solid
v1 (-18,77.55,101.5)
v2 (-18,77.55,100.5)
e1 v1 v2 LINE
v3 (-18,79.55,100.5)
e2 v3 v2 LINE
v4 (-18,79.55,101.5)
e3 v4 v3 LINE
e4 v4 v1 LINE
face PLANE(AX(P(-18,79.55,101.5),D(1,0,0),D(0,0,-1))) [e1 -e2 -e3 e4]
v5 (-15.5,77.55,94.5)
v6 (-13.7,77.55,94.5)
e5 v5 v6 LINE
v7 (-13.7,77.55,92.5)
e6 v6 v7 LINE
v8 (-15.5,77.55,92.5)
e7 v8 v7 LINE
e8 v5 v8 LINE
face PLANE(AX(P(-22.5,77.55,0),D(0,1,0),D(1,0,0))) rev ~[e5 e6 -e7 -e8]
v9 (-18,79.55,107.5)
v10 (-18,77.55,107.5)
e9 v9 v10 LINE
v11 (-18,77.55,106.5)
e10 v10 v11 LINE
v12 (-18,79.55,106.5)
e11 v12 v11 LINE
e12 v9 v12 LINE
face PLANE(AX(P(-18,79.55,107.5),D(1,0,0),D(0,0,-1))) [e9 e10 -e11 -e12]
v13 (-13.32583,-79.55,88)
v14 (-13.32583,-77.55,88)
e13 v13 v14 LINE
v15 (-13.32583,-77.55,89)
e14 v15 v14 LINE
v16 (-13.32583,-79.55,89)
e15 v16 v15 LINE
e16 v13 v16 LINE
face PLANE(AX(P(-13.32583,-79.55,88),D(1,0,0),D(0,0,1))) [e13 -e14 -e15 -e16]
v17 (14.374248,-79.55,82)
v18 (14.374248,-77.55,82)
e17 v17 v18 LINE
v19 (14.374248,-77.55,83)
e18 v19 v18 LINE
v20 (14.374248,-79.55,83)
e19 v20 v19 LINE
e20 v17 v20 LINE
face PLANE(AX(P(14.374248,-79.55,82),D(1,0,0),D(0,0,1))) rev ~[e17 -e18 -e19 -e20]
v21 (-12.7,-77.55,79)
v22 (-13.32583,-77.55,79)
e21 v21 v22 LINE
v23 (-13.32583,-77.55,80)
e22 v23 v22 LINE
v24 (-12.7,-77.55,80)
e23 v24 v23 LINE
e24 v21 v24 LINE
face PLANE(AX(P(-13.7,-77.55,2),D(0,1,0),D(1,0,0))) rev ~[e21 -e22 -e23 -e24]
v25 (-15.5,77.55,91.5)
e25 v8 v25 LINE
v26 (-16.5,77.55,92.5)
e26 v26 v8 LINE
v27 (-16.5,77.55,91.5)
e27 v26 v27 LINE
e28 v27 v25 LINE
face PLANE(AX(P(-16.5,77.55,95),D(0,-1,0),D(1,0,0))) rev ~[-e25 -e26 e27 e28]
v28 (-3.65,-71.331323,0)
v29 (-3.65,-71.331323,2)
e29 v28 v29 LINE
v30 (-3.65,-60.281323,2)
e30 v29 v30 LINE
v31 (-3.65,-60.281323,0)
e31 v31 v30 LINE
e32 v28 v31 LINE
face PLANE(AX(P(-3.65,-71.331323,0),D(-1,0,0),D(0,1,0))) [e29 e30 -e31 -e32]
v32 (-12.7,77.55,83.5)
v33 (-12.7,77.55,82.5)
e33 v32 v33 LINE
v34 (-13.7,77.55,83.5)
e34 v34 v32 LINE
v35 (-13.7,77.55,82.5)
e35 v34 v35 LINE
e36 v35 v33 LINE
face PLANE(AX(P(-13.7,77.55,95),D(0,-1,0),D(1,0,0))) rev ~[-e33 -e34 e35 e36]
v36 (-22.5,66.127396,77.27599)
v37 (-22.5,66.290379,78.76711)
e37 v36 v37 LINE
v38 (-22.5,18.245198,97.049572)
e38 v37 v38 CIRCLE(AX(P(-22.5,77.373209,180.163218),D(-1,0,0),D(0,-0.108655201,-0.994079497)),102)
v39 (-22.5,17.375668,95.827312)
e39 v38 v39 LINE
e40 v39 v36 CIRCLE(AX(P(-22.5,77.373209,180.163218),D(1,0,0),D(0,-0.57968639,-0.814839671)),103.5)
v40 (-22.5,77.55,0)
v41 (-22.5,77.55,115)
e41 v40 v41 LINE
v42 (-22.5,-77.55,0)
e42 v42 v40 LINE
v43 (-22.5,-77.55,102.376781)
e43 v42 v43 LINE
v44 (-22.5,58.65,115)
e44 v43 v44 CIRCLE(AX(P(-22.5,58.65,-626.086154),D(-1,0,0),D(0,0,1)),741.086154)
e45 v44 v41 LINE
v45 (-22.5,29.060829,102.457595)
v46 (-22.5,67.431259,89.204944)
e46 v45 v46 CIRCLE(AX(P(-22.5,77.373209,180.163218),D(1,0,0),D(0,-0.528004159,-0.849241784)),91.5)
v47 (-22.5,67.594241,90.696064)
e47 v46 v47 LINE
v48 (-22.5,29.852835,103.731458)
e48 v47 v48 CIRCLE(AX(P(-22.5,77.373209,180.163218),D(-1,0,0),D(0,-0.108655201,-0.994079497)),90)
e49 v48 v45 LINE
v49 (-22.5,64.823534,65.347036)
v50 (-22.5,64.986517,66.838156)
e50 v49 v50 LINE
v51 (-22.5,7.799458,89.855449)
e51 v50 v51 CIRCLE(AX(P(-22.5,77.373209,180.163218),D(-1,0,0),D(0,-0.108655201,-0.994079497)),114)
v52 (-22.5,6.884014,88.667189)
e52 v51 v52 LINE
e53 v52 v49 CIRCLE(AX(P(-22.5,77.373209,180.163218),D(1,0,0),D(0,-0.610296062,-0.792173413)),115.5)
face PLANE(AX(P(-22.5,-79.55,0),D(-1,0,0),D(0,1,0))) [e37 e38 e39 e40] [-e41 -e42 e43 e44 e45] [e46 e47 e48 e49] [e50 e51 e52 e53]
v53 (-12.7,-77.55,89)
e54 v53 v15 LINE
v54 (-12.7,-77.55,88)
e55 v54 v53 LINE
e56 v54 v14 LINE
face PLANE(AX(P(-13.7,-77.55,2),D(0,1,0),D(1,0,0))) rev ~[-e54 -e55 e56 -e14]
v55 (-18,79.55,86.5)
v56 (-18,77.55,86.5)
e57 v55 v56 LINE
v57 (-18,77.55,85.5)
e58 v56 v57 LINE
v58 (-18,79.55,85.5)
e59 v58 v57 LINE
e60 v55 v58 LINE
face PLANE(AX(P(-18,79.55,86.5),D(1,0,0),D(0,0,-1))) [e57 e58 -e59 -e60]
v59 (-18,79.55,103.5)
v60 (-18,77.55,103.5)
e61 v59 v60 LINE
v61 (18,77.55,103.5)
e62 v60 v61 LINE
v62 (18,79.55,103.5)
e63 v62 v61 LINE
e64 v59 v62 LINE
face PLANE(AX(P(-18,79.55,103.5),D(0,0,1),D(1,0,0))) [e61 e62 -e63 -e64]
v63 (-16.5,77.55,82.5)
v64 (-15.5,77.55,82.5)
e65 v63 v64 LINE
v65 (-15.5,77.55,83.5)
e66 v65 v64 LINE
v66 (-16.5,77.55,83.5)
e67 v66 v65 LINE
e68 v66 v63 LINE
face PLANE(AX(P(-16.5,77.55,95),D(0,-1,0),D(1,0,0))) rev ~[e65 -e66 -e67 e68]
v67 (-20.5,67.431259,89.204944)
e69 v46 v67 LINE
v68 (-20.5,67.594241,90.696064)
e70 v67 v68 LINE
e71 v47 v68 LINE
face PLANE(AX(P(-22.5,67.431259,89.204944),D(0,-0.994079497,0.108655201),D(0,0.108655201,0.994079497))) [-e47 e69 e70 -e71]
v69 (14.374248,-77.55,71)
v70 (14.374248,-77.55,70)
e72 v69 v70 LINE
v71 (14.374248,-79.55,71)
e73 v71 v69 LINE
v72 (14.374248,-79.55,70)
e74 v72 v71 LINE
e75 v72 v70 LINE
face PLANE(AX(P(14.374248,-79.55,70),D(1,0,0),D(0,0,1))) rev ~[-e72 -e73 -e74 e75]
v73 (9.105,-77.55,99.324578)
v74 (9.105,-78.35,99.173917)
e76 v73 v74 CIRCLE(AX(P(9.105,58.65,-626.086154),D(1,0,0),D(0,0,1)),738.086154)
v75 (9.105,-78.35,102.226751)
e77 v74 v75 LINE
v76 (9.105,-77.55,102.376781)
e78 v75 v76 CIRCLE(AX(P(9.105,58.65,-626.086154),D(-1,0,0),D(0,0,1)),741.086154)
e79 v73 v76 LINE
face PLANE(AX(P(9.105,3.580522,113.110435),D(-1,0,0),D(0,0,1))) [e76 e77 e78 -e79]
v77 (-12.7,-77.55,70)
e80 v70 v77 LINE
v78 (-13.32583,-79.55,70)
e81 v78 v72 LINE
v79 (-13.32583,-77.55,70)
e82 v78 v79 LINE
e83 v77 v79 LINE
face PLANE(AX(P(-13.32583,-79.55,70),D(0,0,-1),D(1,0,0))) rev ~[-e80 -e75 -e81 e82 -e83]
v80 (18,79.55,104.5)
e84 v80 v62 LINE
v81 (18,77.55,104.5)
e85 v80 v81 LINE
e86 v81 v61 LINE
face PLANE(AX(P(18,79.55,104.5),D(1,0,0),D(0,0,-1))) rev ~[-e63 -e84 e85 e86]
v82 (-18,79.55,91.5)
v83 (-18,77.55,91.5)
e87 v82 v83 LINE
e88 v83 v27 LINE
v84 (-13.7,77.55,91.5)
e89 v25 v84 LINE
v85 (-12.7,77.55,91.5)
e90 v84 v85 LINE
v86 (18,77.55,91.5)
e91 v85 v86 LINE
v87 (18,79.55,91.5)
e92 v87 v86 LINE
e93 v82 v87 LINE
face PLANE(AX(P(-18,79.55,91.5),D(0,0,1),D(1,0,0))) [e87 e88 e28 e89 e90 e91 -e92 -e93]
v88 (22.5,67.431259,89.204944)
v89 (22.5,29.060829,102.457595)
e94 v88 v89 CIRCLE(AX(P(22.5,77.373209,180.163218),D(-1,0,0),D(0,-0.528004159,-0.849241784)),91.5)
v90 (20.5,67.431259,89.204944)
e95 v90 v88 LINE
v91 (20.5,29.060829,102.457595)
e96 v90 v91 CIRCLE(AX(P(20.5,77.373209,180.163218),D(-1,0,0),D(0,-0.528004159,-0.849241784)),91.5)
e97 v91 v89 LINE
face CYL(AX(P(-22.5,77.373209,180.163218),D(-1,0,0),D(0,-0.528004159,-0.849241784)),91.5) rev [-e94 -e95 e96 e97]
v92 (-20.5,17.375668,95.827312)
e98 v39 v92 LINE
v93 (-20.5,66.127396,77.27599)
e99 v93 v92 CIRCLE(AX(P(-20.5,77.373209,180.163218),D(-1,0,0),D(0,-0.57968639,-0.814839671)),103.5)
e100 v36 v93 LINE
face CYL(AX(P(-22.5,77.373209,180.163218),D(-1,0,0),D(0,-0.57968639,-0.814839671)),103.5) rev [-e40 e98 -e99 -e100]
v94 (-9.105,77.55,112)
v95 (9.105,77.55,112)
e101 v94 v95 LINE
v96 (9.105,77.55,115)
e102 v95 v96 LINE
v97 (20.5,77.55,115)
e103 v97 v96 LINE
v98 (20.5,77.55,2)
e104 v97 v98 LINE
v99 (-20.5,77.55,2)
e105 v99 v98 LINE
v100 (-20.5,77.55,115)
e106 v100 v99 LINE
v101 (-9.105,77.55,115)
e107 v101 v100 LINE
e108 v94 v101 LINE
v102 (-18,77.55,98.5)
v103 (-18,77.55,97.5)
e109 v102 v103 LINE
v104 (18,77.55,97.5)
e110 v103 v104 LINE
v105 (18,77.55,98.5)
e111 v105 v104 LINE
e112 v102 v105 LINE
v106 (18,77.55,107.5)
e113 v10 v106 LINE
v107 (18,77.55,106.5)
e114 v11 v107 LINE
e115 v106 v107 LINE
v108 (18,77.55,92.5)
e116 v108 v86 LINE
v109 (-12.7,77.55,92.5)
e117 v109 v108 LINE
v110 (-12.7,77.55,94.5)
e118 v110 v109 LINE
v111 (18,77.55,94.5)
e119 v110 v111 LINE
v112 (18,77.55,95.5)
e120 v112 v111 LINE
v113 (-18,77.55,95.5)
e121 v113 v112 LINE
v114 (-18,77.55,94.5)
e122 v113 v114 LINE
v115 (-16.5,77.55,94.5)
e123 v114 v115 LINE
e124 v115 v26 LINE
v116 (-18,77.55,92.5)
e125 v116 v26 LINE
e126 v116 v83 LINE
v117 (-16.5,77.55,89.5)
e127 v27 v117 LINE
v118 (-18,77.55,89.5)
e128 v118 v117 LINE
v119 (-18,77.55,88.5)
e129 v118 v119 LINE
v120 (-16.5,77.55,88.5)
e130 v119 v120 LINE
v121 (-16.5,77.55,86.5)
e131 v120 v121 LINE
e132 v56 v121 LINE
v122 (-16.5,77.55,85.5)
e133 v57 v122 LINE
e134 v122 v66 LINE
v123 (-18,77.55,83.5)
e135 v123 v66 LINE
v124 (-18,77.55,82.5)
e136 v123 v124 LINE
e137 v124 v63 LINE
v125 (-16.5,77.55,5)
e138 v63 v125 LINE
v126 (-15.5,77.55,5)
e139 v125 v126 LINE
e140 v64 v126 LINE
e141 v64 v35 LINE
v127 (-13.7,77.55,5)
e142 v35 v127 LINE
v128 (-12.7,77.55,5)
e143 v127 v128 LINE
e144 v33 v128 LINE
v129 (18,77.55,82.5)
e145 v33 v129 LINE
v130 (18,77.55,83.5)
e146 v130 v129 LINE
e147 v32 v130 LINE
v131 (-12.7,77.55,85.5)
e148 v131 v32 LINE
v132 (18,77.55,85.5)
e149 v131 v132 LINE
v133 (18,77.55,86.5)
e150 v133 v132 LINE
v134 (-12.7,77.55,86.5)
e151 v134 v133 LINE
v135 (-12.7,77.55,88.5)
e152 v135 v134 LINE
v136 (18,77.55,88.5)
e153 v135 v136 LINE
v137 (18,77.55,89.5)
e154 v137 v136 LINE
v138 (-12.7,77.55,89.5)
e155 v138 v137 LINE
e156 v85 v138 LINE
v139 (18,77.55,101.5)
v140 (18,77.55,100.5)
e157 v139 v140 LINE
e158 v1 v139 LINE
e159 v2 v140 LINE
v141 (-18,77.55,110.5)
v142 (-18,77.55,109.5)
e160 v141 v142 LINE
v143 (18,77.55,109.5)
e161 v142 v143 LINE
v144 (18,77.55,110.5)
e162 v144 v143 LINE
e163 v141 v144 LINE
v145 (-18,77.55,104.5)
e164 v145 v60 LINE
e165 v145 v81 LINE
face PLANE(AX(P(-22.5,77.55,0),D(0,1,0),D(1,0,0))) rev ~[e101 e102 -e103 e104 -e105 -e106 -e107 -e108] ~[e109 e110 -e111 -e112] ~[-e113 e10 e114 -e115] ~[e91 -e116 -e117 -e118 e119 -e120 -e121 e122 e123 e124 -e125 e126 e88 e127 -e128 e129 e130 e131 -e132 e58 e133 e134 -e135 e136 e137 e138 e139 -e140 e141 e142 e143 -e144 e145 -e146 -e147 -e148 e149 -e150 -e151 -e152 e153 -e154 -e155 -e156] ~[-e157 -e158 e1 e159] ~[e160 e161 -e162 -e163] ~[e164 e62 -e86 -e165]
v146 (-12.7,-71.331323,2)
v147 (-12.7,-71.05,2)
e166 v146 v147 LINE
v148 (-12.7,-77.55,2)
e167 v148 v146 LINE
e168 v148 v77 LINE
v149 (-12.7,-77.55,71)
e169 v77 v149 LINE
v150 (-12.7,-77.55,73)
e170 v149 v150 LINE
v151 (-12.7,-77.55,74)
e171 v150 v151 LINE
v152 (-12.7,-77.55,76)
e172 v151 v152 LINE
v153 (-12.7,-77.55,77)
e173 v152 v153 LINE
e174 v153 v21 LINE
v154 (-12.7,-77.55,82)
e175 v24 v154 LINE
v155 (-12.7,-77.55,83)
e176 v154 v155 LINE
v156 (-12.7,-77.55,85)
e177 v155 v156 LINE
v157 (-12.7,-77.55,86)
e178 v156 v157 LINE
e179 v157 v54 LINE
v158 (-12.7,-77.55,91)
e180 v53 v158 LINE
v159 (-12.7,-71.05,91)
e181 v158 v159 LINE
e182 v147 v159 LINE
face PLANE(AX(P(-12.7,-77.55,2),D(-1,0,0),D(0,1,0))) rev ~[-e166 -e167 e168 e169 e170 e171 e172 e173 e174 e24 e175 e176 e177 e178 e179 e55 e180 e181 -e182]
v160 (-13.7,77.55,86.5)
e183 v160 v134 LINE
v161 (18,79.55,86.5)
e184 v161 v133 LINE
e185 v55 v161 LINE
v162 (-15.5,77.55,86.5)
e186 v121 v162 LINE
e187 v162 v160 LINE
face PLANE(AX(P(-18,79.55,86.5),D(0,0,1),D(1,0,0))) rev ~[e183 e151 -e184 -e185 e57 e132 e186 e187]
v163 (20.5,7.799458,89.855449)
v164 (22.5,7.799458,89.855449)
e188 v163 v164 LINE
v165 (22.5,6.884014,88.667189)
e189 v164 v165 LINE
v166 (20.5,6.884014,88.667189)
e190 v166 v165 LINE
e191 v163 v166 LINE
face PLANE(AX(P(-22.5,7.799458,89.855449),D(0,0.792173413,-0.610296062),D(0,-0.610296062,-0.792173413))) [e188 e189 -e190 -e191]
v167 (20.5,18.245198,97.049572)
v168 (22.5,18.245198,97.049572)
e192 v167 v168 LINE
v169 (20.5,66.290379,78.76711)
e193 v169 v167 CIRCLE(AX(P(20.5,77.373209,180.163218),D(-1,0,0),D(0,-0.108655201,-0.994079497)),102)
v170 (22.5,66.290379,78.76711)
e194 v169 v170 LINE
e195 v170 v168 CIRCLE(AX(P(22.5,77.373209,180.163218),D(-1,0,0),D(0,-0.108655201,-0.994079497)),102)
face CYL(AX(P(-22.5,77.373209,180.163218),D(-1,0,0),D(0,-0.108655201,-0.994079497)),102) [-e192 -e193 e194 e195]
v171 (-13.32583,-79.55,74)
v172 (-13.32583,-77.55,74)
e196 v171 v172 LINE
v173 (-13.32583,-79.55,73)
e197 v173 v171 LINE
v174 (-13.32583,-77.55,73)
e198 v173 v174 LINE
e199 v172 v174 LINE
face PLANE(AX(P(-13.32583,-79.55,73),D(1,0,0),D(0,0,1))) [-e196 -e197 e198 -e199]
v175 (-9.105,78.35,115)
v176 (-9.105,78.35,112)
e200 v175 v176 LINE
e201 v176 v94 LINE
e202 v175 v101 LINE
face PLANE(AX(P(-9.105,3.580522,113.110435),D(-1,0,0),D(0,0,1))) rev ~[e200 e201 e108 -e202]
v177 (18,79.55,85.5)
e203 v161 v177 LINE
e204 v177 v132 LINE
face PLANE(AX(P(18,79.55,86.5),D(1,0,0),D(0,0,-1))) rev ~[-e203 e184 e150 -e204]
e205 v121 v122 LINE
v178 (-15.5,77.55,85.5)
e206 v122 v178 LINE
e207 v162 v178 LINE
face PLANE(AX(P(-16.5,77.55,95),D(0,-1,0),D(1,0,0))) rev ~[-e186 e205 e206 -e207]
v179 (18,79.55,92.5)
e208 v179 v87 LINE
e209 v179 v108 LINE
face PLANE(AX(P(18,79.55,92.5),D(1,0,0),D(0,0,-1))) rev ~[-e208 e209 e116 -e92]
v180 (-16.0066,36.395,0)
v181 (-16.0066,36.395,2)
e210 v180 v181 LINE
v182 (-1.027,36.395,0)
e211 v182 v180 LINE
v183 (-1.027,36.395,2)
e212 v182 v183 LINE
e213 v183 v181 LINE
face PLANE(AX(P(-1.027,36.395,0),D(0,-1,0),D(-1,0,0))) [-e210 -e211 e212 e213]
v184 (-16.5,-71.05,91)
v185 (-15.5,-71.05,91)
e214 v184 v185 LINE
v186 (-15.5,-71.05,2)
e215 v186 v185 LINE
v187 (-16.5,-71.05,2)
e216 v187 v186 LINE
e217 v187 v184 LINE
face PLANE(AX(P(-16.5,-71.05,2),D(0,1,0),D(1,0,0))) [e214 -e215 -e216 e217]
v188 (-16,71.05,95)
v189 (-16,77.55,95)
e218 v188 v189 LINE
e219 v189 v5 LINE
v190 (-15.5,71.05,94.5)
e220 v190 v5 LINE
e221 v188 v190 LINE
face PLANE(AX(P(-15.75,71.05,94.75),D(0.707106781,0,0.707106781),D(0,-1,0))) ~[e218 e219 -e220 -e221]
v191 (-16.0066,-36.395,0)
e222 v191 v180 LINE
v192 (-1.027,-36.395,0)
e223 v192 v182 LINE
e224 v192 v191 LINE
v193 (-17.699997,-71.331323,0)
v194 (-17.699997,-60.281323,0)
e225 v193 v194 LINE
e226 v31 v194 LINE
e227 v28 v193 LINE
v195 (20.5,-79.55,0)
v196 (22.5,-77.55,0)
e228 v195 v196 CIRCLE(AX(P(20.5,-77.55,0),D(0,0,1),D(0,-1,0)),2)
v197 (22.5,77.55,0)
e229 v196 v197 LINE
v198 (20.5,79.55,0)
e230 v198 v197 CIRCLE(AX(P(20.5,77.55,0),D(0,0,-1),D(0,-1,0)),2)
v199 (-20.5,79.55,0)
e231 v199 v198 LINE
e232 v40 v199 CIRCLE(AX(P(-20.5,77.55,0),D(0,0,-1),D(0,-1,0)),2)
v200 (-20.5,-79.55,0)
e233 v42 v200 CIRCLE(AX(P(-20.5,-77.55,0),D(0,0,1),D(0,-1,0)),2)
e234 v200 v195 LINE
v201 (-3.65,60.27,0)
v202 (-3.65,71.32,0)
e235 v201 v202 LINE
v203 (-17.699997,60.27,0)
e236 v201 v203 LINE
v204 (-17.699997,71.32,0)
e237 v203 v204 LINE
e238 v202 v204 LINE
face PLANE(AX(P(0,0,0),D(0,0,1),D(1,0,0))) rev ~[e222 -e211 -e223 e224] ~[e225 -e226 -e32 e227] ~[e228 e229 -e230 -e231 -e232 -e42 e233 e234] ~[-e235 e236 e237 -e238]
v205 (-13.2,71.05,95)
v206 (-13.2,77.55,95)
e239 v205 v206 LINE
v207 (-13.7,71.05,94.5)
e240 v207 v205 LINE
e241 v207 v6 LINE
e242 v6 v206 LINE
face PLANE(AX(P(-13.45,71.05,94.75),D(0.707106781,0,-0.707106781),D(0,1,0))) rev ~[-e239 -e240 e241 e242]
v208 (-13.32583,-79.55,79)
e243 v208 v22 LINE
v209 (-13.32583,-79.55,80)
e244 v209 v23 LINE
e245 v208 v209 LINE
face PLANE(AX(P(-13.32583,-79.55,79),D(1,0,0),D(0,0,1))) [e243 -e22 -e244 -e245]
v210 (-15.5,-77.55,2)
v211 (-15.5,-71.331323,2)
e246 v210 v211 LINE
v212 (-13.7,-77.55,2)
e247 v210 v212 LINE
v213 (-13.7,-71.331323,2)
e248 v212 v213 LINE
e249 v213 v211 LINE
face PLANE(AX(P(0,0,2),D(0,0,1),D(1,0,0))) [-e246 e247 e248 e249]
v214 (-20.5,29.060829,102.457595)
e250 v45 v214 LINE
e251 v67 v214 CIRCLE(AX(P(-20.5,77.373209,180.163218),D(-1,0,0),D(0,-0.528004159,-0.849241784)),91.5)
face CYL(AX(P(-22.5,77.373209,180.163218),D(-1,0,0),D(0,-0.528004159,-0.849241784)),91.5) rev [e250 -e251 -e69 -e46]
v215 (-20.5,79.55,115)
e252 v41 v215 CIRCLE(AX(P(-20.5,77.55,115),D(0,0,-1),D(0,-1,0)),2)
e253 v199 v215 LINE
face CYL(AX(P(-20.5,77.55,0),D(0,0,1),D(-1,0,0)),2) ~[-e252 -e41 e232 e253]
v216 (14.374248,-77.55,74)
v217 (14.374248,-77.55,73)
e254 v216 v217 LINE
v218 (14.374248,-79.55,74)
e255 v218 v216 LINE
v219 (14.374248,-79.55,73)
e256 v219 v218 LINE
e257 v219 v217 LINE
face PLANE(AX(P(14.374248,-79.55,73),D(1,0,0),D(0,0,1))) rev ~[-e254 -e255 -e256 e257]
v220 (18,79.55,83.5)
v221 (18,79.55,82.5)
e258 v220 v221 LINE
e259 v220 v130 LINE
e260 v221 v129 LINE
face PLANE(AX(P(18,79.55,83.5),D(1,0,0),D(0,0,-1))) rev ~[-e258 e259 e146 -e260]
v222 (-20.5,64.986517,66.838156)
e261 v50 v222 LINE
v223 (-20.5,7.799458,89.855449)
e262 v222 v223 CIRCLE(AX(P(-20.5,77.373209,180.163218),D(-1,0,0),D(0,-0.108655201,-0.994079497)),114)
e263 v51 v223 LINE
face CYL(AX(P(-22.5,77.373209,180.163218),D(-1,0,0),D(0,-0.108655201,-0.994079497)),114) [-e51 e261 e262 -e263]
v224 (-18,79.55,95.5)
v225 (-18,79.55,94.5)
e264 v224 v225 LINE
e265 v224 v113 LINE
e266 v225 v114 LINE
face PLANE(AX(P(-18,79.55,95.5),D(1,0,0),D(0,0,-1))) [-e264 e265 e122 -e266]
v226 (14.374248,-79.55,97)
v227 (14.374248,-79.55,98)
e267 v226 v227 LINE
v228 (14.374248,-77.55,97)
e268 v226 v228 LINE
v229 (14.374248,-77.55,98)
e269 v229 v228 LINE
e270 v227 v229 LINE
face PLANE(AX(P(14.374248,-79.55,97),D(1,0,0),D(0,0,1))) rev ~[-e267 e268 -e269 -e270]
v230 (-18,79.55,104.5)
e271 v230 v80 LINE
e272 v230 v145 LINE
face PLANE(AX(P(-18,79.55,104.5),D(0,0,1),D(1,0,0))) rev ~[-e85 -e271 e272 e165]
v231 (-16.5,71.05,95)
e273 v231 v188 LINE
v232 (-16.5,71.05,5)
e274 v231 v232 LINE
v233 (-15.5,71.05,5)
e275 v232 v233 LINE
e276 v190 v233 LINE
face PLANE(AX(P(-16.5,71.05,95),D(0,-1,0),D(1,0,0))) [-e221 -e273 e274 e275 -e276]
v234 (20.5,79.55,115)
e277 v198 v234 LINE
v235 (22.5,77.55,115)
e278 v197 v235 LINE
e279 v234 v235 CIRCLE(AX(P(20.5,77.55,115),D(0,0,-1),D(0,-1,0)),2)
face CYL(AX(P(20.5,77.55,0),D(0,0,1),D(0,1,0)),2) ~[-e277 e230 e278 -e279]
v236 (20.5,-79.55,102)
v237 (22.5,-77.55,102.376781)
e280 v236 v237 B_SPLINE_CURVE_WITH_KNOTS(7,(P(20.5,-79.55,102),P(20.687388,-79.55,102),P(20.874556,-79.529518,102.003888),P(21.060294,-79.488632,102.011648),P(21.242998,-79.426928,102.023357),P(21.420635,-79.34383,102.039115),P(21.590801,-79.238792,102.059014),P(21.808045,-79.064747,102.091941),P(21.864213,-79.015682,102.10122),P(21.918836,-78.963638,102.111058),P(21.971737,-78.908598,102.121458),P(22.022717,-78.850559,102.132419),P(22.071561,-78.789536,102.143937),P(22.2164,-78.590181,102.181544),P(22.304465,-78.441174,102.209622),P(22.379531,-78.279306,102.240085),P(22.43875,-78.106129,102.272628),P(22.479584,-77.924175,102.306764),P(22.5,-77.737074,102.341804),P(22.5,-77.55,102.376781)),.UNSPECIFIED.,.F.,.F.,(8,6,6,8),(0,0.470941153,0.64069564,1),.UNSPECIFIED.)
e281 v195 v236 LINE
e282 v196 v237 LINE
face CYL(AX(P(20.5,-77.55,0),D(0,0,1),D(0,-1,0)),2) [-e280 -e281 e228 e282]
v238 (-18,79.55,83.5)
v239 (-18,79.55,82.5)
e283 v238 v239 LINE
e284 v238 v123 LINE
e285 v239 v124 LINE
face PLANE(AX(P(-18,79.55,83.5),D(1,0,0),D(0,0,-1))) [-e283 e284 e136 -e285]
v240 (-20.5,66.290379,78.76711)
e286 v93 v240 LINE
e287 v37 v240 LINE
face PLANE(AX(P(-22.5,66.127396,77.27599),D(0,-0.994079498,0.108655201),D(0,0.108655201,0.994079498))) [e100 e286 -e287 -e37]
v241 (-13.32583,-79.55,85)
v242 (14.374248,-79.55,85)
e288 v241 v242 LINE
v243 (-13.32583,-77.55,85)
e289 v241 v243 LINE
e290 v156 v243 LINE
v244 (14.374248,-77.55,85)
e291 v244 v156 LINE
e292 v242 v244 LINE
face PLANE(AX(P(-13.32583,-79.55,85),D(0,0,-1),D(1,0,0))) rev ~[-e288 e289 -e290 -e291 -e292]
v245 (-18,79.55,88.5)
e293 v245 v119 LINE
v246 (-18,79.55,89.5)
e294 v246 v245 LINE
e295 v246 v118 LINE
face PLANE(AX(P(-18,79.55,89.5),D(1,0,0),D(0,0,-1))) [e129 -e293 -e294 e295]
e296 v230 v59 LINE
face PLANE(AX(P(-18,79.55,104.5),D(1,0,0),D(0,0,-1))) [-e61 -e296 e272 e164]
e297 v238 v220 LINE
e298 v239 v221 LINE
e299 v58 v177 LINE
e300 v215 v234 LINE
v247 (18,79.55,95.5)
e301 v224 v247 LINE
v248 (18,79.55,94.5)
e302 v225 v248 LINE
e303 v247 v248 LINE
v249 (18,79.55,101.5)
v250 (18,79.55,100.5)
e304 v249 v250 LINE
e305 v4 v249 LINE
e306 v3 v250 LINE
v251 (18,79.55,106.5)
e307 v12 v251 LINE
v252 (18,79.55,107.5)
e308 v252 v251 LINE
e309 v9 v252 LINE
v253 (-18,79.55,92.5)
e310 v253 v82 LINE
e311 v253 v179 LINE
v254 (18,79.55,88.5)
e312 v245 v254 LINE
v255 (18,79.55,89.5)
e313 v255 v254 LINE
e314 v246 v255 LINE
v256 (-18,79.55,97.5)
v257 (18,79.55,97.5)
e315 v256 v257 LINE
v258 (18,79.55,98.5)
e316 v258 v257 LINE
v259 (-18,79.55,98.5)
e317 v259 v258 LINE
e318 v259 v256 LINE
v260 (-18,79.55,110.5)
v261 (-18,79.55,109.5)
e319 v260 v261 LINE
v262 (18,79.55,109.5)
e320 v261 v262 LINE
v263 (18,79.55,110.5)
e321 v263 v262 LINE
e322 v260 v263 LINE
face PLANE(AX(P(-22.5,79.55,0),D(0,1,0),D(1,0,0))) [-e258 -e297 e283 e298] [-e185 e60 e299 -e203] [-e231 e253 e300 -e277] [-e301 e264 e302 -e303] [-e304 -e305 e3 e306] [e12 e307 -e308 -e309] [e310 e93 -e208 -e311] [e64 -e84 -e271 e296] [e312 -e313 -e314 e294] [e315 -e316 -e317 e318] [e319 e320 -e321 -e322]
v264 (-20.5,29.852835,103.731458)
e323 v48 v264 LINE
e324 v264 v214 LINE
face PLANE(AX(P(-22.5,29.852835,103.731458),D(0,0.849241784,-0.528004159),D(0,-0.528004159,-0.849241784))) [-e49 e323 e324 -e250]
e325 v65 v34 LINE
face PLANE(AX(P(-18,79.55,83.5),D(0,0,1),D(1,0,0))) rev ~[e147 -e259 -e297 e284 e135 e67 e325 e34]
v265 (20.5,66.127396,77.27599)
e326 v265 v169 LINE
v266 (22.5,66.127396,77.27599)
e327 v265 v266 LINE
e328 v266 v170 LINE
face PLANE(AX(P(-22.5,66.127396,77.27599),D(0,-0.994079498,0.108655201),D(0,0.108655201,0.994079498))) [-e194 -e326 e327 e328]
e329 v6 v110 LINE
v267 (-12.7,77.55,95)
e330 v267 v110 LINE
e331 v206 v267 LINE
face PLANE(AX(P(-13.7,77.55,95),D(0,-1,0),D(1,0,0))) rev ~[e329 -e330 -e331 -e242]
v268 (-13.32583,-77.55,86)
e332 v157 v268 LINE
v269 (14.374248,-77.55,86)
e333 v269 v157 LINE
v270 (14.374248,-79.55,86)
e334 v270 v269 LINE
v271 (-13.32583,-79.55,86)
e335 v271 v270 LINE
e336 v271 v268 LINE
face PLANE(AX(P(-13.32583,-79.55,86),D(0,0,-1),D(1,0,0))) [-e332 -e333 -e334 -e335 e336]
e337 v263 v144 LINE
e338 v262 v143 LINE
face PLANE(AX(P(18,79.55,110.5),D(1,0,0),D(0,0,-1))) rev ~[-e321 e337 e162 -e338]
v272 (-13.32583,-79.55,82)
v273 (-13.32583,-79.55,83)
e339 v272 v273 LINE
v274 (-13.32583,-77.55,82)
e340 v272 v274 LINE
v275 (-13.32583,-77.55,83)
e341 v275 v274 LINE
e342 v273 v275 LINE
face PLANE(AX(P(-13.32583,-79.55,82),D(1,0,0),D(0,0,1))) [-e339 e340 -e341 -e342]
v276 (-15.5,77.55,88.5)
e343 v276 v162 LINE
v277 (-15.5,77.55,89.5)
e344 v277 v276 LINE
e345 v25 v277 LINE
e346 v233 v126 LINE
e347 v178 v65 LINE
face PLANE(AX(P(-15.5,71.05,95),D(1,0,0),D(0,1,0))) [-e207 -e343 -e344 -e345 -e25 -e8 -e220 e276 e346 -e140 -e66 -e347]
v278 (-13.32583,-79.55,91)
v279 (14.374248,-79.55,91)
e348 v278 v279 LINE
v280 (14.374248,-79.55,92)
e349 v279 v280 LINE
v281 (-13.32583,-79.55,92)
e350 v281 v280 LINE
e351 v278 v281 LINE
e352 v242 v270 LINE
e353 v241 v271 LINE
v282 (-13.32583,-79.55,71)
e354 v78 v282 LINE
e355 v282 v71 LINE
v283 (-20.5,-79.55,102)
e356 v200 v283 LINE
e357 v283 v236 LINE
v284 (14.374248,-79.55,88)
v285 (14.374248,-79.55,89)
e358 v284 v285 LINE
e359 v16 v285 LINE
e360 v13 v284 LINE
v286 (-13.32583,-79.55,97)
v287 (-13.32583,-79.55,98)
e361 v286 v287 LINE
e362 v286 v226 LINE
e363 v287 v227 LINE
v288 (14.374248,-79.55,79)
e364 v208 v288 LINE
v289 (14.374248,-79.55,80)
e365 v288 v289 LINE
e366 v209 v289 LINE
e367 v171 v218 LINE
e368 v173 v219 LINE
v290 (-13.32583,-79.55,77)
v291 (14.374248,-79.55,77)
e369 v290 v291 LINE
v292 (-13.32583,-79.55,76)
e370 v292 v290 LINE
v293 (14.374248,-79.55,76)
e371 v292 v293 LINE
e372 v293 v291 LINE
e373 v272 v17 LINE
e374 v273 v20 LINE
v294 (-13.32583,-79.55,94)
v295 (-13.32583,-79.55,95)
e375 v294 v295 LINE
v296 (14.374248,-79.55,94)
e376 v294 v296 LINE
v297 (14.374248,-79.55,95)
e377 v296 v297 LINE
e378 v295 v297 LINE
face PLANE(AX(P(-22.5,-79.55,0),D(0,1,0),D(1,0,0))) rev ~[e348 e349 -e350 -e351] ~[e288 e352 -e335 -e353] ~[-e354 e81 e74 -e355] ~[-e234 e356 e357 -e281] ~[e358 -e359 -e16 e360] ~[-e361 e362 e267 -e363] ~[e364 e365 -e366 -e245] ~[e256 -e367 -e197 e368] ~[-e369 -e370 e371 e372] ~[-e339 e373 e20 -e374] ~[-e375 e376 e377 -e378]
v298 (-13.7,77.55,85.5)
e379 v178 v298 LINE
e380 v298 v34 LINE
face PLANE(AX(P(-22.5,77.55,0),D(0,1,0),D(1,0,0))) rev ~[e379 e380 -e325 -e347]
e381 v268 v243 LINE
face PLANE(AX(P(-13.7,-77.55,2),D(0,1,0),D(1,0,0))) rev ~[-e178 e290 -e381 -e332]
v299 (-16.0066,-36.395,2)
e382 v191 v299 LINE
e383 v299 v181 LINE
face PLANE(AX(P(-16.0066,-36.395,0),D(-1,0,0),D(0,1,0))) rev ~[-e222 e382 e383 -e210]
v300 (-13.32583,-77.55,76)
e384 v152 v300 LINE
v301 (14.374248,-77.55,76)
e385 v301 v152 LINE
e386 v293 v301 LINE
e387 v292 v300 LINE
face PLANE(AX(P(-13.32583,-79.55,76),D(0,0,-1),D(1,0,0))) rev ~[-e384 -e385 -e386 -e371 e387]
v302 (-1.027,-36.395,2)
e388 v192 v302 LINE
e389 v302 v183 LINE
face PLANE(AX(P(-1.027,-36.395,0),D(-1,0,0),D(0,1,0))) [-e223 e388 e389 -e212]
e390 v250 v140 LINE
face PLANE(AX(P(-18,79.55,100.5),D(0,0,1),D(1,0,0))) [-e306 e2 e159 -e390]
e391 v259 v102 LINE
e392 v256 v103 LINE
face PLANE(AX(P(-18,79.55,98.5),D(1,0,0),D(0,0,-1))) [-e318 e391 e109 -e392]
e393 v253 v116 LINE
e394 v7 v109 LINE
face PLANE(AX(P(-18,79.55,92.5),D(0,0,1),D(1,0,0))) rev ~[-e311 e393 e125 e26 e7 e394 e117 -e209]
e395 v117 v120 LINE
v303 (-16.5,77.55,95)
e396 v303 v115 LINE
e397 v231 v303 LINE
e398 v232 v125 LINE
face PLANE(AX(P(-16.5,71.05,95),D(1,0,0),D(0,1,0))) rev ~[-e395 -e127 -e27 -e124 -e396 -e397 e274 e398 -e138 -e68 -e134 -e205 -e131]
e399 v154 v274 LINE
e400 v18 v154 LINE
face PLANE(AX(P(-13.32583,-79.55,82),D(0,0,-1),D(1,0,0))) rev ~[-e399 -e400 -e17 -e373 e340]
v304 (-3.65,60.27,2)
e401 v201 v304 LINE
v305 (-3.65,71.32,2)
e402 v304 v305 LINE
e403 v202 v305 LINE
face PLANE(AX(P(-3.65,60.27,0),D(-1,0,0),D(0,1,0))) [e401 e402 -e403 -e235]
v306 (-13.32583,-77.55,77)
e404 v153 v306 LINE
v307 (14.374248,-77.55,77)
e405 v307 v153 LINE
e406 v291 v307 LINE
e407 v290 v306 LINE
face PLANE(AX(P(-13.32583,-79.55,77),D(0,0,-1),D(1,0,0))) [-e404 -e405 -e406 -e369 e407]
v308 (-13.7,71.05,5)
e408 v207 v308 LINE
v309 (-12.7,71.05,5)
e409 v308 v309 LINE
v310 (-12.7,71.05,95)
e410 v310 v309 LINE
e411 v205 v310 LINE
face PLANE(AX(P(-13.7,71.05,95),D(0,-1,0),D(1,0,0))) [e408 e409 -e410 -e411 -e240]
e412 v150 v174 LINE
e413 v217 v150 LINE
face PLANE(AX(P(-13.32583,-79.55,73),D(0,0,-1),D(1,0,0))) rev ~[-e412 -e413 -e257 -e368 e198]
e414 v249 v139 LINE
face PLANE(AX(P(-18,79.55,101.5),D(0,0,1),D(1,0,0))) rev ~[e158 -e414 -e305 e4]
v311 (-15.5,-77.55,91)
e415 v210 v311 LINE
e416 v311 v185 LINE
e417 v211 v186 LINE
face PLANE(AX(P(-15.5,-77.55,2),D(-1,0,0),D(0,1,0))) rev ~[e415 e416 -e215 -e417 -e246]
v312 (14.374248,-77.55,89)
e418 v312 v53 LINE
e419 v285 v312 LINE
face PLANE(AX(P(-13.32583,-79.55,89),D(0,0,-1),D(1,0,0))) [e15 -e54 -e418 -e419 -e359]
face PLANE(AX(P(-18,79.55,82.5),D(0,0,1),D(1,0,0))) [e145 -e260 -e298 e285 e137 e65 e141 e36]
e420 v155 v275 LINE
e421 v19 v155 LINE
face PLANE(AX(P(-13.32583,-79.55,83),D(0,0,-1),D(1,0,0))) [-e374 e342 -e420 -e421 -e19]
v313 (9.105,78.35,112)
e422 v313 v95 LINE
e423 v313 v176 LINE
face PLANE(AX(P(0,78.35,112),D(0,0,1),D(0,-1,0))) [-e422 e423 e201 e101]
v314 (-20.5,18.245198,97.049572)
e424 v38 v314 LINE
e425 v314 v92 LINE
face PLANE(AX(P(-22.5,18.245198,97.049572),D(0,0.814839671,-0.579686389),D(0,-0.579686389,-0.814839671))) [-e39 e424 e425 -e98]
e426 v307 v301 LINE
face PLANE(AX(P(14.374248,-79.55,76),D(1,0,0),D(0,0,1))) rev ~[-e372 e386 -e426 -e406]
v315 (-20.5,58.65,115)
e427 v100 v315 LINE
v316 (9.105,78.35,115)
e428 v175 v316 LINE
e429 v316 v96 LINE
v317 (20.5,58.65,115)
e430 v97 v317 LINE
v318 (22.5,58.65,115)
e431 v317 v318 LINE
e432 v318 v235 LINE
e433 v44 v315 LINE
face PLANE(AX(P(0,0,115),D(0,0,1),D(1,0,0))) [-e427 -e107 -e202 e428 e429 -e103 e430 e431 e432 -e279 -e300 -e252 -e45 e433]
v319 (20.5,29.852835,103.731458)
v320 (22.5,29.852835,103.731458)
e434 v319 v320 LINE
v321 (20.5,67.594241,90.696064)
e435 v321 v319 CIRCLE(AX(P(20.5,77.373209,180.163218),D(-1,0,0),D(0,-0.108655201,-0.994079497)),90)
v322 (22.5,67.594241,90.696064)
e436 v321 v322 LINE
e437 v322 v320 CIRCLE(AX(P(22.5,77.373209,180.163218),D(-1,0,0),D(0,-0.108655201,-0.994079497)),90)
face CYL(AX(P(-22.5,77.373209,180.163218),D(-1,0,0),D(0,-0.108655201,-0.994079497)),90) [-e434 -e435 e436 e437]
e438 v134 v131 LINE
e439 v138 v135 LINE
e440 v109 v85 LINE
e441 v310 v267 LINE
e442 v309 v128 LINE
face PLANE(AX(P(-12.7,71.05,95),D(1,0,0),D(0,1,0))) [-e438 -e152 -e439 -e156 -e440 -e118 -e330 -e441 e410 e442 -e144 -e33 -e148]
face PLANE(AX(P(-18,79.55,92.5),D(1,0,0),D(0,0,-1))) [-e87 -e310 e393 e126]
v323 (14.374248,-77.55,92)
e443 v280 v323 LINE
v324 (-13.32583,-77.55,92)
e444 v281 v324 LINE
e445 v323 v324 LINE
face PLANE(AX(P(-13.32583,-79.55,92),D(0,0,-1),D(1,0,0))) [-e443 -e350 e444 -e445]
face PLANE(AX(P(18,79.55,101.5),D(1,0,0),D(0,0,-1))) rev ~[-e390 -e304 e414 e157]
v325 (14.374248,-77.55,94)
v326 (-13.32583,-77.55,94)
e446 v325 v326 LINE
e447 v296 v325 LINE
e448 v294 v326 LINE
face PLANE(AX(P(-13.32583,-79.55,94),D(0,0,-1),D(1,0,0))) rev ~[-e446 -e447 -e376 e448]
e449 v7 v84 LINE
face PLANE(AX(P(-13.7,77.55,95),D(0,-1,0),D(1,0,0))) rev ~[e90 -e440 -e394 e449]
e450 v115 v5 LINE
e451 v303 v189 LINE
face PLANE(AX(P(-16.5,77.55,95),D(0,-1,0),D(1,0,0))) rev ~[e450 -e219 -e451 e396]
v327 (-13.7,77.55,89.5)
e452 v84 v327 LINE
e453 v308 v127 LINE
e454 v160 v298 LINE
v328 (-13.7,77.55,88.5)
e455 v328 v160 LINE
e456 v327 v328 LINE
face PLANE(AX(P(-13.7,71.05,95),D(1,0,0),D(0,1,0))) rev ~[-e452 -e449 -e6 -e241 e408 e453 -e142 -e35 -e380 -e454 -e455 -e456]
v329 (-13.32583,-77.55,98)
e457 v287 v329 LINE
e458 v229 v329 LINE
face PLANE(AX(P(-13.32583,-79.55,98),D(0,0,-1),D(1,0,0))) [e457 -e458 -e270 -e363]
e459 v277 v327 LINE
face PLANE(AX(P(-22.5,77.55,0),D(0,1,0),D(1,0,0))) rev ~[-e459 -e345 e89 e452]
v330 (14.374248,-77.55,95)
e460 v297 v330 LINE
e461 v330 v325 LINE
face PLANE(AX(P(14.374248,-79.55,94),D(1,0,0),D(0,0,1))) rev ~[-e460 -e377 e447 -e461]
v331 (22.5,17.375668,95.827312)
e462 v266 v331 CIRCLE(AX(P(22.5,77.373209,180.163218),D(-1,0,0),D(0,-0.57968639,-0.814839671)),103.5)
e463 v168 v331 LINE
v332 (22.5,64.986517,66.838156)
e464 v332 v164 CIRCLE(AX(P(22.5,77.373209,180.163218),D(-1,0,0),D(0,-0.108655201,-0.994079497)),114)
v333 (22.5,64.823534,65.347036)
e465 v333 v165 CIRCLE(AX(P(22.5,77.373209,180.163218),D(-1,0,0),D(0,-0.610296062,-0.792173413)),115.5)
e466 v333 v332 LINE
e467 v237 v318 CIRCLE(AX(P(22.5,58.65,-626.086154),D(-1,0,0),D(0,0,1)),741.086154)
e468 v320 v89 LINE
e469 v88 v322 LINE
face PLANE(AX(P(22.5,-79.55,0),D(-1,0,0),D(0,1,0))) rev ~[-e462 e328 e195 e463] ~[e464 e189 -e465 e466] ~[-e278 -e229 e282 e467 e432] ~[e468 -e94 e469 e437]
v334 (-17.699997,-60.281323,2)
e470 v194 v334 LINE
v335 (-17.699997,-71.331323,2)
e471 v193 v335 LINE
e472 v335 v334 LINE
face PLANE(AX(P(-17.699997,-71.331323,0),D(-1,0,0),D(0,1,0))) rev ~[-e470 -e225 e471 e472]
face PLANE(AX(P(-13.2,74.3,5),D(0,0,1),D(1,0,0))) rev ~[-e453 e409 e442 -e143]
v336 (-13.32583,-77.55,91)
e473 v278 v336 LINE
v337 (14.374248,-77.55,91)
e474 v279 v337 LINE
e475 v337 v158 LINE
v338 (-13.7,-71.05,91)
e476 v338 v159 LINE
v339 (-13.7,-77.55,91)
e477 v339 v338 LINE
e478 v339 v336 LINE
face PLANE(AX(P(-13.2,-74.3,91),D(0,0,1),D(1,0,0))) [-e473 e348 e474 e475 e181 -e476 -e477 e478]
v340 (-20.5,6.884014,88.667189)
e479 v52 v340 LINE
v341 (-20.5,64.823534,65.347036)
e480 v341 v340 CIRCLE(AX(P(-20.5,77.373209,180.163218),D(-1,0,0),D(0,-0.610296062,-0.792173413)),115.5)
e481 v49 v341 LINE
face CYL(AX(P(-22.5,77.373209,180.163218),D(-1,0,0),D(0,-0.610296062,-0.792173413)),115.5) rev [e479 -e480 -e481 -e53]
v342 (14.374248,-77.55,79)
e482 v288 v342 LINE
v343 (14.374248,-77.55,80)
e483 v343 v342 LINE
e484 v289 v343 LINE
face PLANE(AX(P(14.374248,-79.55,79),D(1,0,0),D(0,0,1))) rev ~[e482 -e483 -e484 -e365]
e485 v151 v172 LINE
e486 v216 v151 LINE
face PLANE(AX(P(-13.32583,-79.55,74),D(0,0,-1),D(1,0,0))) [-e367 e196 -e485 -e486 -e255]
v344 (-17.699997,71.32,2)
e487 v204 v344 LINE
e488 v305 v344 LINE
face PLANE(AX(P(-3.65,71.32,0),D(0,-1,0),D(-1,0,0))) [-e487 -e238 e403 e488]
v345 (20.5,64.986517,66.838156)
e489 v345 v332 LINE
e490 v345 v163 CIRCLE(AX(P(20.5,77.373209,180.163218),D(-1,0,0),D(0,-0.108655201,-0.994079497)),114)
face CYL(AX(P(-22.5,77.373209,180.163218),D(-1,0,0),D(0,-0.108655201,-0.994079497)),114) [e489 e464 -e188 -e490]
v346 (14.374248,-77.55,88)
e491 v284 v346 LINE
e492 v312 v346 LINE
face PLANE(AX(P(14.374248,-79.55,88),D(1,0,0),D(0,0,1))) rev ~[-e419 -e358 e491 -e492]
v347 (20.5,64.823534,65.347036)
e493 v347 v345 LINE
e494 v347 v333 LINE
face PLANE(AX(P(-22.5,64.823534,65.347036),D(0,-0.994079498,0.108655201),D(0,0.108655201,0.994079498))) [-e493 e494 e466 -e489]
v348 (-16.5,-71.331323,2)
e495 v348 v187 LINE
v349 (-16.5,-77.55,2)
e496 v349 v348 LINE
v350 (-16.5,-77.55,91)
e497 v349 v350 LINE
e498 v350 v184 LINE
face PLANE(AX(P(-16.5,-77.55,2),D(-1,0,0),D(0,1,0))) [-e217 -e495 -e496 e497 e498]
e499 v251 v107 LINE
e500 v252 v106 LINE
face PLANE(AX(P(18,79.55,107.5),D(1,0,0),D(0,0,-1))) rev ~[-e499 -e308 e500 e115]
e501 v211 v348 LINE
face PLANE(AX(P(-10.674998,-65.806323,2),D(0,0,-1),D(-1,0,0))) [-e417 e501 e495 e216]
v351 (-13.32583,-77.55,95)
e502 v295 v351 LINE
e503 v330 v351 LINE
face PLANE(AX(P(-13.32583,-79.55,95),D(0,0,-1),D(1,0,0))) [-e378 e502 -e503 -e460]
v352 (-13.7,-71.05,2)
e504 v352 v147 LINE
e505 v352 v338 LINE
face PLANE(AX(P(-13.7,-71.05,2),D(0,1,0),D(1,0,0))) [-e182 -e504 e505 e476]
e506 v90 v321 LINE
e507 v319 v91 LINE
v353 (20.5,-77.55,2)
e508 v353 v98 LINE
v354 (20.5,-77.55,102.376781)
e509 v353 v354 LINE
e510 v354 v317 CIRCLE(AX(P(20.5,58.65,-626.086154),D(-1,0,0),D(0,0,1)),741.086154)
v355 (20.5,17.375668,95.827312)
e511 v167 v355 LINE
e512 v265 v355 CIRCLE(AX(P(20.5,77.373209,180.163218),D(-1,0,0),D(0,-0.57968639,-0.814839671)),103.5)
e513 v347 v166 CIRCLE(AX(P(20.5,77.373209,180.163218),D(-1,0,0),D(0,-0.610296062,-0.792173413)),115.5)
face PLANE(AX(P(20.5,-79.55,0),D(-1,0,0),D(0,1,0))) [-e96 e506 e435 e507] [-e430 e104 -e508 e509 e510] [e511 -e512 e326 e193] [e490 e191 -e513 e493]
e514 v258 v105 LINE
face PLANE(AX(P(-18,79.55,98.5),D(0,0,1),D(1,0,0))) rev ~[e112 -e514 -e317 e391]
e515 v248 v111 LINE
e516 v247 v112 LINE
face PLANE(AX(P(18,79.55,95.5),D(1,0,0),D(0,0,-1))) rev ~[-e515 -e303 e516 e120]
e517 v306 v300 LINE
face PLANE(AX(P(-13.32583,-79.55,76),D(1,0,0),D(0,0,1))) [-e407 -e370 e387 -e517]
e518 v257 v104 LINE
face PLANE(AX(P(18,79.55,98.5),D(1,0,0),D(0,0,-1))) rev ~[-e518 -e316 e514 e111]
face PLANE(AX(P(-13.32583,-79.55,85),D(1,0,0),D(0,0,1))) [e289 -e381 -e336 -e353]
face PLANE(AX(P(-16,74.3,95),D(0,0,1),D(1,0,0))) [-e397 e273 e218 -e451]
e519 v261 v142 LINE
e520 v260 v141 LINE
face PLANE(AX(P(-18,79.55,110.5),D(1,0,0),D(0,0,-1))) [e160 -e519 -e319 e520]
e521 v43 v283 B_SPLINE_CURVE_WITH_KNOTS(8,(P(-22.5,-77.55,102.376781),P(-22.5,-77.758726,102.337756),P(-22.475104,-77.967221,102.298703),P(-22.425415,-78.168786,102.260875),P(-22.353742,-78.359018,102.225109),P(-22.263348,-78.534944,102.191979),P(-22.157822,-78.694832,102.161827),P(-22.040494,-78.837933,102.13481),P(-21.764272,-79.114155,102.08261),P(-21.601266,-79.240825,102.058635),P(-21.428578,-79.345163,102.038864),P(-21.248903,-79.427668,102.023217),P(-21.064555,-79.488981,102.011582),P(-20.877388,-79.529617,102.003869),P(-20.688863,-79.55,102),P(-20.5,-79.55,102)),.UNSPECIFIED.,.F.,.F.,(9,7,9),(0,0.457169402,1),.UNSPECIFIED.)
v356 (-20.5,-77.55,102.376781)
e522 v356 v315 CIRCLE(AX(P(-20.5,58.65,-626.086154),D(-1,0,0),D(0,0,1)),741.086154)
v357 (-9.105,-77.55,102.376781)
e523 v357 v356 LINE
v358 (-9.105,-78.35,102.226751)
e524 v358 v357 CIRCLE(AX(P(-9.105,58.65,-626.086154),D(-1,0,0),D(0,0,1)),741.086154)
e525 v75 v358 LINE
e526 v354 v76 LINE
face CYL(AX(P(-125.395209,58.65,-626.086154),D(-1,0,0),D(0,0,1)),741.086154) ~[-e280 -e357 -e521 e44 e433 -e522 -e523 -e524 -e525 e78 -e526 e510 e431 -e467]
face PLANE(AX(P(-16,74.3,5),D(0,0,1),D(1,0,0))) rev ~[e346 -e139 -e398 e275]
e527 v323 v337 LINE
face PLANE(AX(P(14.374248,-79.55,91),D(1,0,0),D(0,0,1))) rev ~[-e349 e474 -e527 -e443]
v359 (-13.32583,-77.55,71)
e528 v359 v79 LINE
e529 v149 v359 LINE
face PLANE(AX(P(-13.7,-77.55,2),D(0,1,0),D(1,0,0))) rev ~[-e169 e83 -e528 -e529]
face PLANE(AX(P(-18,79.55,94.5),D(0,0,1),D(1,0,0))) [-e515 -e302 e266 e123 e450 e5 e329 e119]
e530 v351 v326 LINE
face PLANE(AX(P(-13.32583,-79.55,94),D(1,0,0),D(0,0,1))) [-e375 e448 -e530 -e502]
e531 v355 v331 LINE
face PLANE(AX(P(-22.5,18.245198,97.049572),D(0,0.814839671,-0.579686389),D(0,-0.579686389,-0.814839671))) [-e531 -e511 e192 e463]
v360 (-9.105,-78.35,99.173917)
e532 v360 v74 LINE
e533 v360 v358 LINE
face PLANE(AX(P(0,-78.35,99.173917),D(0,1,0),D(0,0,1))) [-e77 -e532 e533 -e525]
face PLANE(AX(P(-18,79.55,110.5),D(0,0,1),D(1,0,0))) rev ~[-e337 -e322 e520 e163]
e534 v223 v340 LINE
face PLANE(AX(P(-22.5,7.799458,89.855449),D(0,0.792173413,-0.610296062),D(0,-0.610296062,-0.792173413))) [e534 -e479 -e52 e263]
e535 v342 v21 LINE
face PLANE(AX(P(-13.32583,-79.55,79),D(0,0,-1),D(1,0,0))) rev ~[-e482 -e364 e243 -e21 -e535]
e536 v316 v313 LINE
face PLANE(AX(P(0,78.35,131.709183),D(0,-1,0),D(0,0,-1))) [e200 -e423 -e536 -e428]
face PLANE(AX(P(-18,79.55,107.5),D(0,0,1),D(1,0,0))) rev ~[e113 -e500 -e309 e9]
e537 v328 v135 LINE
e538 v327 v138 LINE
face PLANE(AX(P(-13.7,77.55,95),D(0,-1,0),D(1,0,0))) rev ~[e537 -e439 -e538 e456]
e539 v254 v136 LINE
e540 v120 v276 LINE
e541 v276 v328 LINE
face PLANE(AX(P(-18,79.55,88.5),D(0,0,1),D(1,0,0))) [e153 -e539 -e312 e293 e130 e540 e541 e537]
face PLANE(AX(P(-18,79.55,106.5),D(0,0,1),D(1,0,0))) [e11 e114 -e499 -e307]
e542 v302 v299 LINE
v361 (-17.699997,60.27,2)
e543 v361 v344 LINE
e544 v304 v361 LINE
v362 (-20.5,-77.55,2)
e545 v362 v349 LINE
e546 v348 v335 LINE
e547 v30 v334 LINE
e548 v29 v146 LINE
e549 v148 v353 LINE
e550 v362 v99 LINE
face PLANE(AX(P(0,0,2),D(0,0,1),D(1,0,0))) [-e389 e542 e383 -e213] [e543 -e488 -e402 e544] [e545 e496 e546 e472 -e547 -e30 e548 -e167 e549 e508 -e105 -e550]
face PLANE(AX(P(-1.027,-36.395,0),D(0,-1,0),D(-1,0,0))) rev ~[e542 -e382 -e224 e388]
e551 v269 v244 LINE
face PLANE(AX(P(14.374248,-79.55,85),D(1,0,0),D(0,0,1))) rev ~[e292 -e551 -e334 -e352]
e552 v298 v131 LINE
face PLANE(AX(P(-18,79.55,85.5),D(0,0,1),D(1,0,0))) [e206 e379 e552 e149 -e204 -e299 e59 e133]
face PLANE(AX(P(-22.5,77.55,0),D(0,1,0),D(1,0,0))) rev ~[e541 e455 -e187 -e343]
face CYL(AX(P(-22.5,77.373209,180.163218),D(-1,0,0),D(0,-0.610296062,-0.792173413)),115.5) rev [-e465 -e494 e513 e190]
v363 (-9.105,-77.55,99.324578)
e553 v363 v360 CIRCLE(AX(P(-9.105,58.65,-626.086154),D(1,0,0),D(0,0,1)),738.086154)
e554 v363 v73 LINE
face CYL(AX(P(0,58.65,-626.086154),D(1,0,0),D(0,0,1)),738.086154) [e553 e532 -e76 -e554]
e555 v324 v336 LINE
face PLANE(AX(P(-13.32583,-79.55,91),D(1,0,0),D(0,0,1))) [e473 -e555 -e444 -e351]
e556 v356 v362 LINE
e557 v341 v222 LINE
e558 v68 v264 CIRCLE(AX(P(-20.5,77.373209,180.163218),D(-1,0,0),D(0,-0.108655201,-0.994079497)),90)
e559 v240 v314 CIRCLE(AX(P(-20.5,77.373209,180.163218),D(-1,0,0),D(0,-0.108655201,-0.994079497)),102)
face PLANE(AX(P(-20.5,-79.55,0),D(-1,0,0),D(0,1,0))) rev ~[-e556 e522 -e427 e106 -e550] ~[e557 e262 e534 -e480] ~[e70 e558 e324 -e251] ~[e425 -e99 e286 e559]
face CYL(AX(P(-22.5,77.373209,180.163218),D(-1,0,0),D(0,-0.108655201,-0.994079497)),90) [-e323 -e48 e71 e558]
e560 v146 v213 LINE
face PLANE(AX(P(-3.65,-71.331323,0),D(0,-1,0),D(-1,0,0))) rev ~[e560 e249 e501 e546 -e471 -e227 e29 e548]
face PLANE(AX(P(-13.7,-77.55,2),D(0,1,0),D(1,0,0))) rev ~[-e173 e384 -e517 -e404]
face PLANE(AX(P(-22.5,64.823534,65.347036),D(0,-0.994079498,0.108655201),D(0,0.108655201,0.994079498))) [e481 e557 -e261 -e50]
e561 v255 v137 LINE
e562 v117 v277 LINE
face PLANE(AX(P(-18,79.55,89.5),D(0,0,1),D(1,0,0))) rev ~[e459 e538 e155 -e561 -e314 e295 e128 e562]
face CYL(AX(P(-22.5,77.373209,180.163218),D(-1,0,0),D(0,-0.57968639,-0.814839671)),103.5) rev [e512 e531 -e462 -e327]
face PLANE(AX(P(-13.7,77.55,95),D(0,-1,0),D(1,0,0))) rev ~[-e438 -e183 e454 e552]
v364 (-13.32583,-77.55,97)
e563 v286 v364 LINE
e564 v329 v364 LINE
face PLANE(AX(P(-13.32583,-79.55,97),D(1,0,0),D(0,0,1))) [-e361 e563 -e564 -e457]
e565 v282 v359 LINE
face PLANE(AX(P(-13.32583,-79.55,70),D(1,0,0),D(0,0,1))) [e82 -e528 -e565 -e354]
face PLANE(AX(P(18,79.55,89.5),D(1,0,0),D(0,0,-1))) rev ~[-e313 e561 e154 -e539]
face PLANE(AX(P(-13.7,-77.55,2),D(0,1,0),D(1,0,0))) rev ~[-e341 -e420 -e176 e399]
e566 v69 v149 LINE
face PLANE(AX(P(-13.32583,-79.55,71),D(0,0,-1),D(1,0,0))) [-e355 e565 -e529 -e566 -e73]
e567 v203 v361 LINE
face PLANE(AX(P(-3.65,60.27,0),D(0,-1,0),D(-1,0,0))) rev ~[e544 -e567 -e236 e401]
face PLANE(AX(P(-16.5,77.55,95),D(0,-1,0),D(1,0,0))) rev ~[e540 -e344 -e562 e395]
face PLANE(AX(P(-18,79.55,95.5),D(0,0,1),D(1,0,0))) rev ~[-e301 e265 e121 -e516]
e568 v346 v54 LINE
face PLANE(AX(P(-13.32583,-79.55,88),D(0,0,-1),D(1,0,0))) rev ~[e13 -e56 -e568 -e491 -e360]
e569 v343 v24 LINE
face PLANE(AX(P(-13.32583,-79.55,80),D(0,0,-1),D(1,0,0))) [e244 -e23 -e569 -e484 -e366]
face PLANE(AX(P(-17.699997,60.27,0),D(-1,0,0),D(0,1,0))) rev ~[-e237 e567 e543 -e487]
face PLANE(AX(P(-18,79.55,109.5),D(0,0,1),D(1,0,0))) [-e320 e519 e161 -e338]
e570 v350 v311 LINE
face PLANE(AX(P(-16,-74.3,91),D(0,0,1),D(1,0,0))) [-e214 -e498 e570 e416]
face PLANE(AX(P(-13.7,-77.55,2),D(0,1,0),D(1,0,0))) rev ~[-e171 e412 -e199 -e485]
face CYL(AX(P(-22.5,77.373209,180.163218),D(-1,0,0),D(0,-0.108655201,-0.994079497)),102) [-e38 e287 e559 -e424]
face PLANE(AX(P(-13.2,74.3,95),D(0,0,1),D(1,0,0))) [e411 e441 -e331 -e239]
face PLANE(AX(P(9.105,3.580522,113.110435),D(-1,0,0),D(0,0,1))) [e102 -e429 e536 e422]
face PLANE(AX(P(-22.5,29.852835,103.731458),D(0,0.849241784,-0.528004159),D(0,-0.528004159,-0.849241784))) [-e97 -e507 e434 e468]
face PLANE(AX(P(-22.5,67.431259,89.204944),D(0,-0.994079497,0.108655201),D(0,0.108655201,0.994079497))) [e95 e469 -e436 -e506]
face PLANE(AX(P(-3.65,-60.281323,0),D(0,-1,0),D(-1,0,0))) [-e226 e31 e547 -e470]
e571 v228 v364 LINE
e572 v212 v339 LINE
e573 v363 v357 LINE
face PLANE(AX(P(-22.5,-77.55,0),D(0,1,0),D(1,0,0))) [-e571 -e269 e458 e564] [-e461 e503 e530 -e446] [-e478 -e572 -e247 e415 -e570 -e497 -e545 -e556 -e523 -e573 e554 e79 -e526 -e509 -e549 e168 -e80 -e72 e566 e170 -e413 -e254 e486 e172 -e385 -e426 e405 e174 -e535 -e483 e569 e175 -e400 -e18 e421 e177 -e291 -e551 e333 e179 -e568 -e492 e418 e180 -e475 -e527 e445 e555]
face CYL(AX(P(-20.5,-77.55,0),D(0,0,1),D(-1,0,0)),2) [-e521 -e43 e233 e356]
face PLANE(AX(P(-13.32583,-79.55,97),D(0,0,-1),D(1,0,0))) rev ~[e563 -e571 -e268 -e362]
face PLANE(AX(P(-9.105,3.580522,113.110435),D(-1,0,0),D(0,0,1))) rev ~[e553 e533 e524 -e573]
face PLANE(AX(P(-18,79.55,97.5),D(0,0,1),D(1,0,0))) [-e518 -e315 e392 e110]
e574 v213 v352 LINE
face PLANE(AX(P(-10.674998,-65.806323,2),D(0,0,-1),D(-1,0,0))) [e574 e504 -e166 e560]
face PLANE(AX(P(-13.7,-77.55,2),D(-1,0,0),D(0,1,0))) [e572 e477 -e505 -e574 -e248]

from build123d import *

# Parameters (mm, degrees)
SKETCH1_W               = 45
SKETCH1_H               = 159.1
BOSS_EXTRUDE1_DEPTH     = 115
SHELL1_T                = -2
CUT_EXTRUDE1_DEPTH      = 147.895209248
CUT_EXTRUDE1_DEPTH_BACK = 147.895209248
FILLET1_R               = 2
SKETCH3_W               = 36
SKETCH3_H               = 1
CUT_EXTRUDE2_DEPTH      = 4
LPATTERN1_COUNT         = 10
LPATTERN1_PITCH         = 3
SKETCH8_W               = 27.700077209
SKETCH8_H               = 1
CUT_EXTRUDE4_DEPTH      = 5
LPATTERN2_COUNT         = 10
LPATTERN2_PITCH         = 3
CUT_EXTRUDE3_DEPTH      = 147.895209411
SKETCH7_W               = 1
SKETCH7_H               = 6.5
BOSS_EXTRUDE3_DEPTH     = 90
CHAMFER2_SIZE           = 0.5
CUT_EXTRUDE6_DEPTH      = 9.105
SKETCH11_W              = 1
SKETCH11_H              = 6.5
BOSS_EXTRUDE6_DEPTH     = 89
SKETCH12_W              = 14.9796
SKETCH12_H              = 72.79
SKETCH12_W_2            = 14.049996967
SKETCH12_H_2            = 11.05
CUT_EXTRUDE7_DEPTH      = 2


with BuildPart() as part:
    # Sketch1 → Boss-Extrude1 (new body)
    with BuildSketch(Plane.XY):
        Rectangle(SKETCH1_W, SKETCH1_H)
    extrude(amount=BOSS_EXTRUDE1_DEPTH)

    # Shell1
    shell1_openings = [part.faces().sort_by_distance(p)[0] for p in [
        (0, 0, 115),
    ]]
    offset(amount=SHELL1_T, openings=shell1_openings, kind=Kind.INTERSECTION)

    # Sketch2 → Cut-Extrude1 (cut, two sides: drawn at the far end of the back side and taken through both)
    with BuildSketch(Plane(origin=(22.5, 0, 0), x_dir=(0, 0, -1), z_dir=(1, 0, 0)).offset(-CUT_EXTRUDE1_DEPTH_BACK)):
        with BuildLine():
            Line((-115, 482.170987722), (-115, 79.55))
            Line((-115, 79.55), (-115, 58.65))
            ThreePointArc((-115, 58.65), (-111.742842211, -10.755043044), (-102, -79.55))
            Line((-102, -79.55), (-26.918013628, -475.108282781))
            Line((-26.918013628, -475.108282781), (-828.772746701, -548.88921573))
            Line((-828.772746701, -548.88921573), (-916.854733073, 408.390054773))
            Line((-916.854733073, 408.390054773), (-115, 482.170987722))
        make_face()
    extrude(amount=CUT_EXTRUDE1_DEPTH + CUT_EXTRUDE1_DEPTH_BACK, mode=Mode.SUBTRACT)

    # Fillet1
    fillet1_edges = [part.edges().sort_by_distance(p)[0] for p in [
        (22.5, -79.55, 51),
        (-22.5, -79.55, 51),
        (-22.5, 79.55, 57.5),
        (22.5, 79.55, 57.5),
    ]]
    fillet(fillet1_edges, radius=FILLET1_R)

    # Sketch3 → Cut-Extrude2 (cut)
    with BuildSketch(Plane(origin=(0, 79.55, 0), x_dir=(1, 0, 0), z_dir=(0, 1, 0))):
        with Locations((0, -110)):
            Rectangle(SKETCH3_W, SKETCH3_H)
    cut_extrude2 = extrude(amount=-CUT_EXTRUDE2_DEPTH, mode=Mode.SUBTRACT)

    # LPattern1: Cut-Extrude2 ×10
    with Locations(*[(0, 0, -i * LPATTERN1_PITCH) for i in range(1, LPATTERN1_COUNT)]):
        add(cut_extrude2, mode=Mode.SUBTRACT)

    # Sketch8 → Cut-Extrude4 (cut)
    with BuildSketch(Plane.XZ.offset(79.55)):
        with Locations((0.524208986, 97.5)):
            Rectangle(SKETCH8_W, SKETCH8_H)
    cut_extrude4 = extrude(amount=-CUT_EXTRUDE4_DEPTH, mode=Mode.SUBTRACT)

    # LPattern2: Cut-Extrude4 ×10
    with Locations(*[(0, 0, -i * LPATTERN2_PITCH) for i in range(1, LPATTERN2_COUNT)]):
        add(cut_extrude4, mode=Mode.SUBTRACT)

    # Sketch5 → Cut-Extrude3 (cut, through all)
    with BuildSketch(Plane.ZY.offset(22.5)):
        with BuildLine():
            Line((65.347036406, 64.823533738), (66.838155653, 64.986516539))
            ThreePointArc((66.838155653, 64.986516539), (74.40797048, 34.807641847), (89.855449244, 7.799458383))
            Line((89.855449244, 7.799458383), (88.667189124, 6.88401429))
            ThreePointArc((88.667189124, 6.88401429), (73.01645406, 34.24756859), (65.347036406, 64.823533738))
        make_face()
        with BuildLine():
            Line((77.275990376, 66.127396149), (78.767109622, 66.29037895))
            ThreePointArc((78.767109622, 66.29037895), (84.83196797, 41.097147113), (97.049571899, 18.245197712))
            Line((97.049571899, 18.245197712), (95.827312392, 17.375668128))
            ThreePointArc((95.827312392, 17.375668128), (83.430037817, 40.563675608), (77.275990376, 66.127396149))
        make_face()
        with BuildLine():
            Line((89.204944346, 67.431258559), (90.696063592, 67.594241361))
            ThreePointArc((90.696063592, 67.594241361), (95.094328846, 47.99151385), (103.7314578, 29.852835107))
            Line((103.7314578, 29.852835107), (102.457595124, 29.060828868))
            ThreePointArc((102.457595124, 29.060828868), (93.67651402, 47.501818923), (89.204944346, 67.431258559))
        make_face()
    extrude(amount=-CUT_EXTRUDE3_DEPTH, mode=Mode.SUBTRACT)

    # Sketch7 → Boss-Extrude3 (add)
    with BuildSketch(Plane.XY.offset(95)):
        with Locations((-16, 74.3)):
            Rectangle(SKETCH7_W, SKETCH7_H)
        with Locations((-13.2, 74.3)):
            Rectangle(SKETCH7_W, SKETCH7_H)
    extrude(amount=-BOSS_EXTRUDE3_DEPTH)

    # Chamfer2
    chamfer2_edges = [part.edges().sort_by_distance(p)[0] for p in [
        (-13.7, 74.3, 95),
        (-15.5, 74.3, 95),
    ]]
    chamfer(chamfer2_edges, length=CHAMFER2_SIZE)

    # Sketch10 → Cut-Extrude6 (cut, symmetric)
    with BuildSketch(Plane(origin=(0, 0, 0), x_dir=(0, 0, -1), z_dir=(1, 0, 0))):
        with BuildLine():
            Line((-131.709183252, 78.35), (-112, 78.35))
            Line((-112, 78.35), (-112, 58.65))
            ThreePointArc((-112, 58.65), (-108.78648369, -10.149542881), (-99.173917094, -78.35))
            Line((-99.173917094, -78.35), (-102.923842912, -78.35))
            Line((-102.923842912, -78.35), (-131.709183252, 78.35))
        make_face()
    extrude(amount=CUT_EXTRUDE6_DEPTH, both=True, mode=Mode.SUBTRACT)

    # Sketch11 → Boss-Extrude6 (add)
    with BuildSketch(Plane.XY.offset(2)):
        with Locations((-16, -74.3)):
            Rectangle(SKETCH11_W, SKETCH11_H)
        with Locations((-13.2, -74.3)):
            Rectangle(SKETCH11_W, SKETCH11_H)
    extrude(amount=BOSS_EXTRUDE6_DEPTH)

    # Sketch12 → Cut-Extrude7 (cut)
    with BuildSketch(Plane(origin=(0, 0, 0), x_dir=(-1, 0, 0), z_dir=(0, 0, -1))):
        with Locations((8.5168, 0)):
            Rectangle(SKETCH12_W, SKETCH12_H)
        with Locations((10.674998484, -65.806322554)):
            Rectangle(SKETCH12_W_2, SKETCH12_H_2)
        with Locations((10.674998484, 65.795)):
            Rectangle(SKETCH12_W_2, SKETCH12_H_2)
    extrude(amount=-CUT_EXTRUDE7_DEPTH, mode=Mode.SUBTRACT)


solid = part.part
